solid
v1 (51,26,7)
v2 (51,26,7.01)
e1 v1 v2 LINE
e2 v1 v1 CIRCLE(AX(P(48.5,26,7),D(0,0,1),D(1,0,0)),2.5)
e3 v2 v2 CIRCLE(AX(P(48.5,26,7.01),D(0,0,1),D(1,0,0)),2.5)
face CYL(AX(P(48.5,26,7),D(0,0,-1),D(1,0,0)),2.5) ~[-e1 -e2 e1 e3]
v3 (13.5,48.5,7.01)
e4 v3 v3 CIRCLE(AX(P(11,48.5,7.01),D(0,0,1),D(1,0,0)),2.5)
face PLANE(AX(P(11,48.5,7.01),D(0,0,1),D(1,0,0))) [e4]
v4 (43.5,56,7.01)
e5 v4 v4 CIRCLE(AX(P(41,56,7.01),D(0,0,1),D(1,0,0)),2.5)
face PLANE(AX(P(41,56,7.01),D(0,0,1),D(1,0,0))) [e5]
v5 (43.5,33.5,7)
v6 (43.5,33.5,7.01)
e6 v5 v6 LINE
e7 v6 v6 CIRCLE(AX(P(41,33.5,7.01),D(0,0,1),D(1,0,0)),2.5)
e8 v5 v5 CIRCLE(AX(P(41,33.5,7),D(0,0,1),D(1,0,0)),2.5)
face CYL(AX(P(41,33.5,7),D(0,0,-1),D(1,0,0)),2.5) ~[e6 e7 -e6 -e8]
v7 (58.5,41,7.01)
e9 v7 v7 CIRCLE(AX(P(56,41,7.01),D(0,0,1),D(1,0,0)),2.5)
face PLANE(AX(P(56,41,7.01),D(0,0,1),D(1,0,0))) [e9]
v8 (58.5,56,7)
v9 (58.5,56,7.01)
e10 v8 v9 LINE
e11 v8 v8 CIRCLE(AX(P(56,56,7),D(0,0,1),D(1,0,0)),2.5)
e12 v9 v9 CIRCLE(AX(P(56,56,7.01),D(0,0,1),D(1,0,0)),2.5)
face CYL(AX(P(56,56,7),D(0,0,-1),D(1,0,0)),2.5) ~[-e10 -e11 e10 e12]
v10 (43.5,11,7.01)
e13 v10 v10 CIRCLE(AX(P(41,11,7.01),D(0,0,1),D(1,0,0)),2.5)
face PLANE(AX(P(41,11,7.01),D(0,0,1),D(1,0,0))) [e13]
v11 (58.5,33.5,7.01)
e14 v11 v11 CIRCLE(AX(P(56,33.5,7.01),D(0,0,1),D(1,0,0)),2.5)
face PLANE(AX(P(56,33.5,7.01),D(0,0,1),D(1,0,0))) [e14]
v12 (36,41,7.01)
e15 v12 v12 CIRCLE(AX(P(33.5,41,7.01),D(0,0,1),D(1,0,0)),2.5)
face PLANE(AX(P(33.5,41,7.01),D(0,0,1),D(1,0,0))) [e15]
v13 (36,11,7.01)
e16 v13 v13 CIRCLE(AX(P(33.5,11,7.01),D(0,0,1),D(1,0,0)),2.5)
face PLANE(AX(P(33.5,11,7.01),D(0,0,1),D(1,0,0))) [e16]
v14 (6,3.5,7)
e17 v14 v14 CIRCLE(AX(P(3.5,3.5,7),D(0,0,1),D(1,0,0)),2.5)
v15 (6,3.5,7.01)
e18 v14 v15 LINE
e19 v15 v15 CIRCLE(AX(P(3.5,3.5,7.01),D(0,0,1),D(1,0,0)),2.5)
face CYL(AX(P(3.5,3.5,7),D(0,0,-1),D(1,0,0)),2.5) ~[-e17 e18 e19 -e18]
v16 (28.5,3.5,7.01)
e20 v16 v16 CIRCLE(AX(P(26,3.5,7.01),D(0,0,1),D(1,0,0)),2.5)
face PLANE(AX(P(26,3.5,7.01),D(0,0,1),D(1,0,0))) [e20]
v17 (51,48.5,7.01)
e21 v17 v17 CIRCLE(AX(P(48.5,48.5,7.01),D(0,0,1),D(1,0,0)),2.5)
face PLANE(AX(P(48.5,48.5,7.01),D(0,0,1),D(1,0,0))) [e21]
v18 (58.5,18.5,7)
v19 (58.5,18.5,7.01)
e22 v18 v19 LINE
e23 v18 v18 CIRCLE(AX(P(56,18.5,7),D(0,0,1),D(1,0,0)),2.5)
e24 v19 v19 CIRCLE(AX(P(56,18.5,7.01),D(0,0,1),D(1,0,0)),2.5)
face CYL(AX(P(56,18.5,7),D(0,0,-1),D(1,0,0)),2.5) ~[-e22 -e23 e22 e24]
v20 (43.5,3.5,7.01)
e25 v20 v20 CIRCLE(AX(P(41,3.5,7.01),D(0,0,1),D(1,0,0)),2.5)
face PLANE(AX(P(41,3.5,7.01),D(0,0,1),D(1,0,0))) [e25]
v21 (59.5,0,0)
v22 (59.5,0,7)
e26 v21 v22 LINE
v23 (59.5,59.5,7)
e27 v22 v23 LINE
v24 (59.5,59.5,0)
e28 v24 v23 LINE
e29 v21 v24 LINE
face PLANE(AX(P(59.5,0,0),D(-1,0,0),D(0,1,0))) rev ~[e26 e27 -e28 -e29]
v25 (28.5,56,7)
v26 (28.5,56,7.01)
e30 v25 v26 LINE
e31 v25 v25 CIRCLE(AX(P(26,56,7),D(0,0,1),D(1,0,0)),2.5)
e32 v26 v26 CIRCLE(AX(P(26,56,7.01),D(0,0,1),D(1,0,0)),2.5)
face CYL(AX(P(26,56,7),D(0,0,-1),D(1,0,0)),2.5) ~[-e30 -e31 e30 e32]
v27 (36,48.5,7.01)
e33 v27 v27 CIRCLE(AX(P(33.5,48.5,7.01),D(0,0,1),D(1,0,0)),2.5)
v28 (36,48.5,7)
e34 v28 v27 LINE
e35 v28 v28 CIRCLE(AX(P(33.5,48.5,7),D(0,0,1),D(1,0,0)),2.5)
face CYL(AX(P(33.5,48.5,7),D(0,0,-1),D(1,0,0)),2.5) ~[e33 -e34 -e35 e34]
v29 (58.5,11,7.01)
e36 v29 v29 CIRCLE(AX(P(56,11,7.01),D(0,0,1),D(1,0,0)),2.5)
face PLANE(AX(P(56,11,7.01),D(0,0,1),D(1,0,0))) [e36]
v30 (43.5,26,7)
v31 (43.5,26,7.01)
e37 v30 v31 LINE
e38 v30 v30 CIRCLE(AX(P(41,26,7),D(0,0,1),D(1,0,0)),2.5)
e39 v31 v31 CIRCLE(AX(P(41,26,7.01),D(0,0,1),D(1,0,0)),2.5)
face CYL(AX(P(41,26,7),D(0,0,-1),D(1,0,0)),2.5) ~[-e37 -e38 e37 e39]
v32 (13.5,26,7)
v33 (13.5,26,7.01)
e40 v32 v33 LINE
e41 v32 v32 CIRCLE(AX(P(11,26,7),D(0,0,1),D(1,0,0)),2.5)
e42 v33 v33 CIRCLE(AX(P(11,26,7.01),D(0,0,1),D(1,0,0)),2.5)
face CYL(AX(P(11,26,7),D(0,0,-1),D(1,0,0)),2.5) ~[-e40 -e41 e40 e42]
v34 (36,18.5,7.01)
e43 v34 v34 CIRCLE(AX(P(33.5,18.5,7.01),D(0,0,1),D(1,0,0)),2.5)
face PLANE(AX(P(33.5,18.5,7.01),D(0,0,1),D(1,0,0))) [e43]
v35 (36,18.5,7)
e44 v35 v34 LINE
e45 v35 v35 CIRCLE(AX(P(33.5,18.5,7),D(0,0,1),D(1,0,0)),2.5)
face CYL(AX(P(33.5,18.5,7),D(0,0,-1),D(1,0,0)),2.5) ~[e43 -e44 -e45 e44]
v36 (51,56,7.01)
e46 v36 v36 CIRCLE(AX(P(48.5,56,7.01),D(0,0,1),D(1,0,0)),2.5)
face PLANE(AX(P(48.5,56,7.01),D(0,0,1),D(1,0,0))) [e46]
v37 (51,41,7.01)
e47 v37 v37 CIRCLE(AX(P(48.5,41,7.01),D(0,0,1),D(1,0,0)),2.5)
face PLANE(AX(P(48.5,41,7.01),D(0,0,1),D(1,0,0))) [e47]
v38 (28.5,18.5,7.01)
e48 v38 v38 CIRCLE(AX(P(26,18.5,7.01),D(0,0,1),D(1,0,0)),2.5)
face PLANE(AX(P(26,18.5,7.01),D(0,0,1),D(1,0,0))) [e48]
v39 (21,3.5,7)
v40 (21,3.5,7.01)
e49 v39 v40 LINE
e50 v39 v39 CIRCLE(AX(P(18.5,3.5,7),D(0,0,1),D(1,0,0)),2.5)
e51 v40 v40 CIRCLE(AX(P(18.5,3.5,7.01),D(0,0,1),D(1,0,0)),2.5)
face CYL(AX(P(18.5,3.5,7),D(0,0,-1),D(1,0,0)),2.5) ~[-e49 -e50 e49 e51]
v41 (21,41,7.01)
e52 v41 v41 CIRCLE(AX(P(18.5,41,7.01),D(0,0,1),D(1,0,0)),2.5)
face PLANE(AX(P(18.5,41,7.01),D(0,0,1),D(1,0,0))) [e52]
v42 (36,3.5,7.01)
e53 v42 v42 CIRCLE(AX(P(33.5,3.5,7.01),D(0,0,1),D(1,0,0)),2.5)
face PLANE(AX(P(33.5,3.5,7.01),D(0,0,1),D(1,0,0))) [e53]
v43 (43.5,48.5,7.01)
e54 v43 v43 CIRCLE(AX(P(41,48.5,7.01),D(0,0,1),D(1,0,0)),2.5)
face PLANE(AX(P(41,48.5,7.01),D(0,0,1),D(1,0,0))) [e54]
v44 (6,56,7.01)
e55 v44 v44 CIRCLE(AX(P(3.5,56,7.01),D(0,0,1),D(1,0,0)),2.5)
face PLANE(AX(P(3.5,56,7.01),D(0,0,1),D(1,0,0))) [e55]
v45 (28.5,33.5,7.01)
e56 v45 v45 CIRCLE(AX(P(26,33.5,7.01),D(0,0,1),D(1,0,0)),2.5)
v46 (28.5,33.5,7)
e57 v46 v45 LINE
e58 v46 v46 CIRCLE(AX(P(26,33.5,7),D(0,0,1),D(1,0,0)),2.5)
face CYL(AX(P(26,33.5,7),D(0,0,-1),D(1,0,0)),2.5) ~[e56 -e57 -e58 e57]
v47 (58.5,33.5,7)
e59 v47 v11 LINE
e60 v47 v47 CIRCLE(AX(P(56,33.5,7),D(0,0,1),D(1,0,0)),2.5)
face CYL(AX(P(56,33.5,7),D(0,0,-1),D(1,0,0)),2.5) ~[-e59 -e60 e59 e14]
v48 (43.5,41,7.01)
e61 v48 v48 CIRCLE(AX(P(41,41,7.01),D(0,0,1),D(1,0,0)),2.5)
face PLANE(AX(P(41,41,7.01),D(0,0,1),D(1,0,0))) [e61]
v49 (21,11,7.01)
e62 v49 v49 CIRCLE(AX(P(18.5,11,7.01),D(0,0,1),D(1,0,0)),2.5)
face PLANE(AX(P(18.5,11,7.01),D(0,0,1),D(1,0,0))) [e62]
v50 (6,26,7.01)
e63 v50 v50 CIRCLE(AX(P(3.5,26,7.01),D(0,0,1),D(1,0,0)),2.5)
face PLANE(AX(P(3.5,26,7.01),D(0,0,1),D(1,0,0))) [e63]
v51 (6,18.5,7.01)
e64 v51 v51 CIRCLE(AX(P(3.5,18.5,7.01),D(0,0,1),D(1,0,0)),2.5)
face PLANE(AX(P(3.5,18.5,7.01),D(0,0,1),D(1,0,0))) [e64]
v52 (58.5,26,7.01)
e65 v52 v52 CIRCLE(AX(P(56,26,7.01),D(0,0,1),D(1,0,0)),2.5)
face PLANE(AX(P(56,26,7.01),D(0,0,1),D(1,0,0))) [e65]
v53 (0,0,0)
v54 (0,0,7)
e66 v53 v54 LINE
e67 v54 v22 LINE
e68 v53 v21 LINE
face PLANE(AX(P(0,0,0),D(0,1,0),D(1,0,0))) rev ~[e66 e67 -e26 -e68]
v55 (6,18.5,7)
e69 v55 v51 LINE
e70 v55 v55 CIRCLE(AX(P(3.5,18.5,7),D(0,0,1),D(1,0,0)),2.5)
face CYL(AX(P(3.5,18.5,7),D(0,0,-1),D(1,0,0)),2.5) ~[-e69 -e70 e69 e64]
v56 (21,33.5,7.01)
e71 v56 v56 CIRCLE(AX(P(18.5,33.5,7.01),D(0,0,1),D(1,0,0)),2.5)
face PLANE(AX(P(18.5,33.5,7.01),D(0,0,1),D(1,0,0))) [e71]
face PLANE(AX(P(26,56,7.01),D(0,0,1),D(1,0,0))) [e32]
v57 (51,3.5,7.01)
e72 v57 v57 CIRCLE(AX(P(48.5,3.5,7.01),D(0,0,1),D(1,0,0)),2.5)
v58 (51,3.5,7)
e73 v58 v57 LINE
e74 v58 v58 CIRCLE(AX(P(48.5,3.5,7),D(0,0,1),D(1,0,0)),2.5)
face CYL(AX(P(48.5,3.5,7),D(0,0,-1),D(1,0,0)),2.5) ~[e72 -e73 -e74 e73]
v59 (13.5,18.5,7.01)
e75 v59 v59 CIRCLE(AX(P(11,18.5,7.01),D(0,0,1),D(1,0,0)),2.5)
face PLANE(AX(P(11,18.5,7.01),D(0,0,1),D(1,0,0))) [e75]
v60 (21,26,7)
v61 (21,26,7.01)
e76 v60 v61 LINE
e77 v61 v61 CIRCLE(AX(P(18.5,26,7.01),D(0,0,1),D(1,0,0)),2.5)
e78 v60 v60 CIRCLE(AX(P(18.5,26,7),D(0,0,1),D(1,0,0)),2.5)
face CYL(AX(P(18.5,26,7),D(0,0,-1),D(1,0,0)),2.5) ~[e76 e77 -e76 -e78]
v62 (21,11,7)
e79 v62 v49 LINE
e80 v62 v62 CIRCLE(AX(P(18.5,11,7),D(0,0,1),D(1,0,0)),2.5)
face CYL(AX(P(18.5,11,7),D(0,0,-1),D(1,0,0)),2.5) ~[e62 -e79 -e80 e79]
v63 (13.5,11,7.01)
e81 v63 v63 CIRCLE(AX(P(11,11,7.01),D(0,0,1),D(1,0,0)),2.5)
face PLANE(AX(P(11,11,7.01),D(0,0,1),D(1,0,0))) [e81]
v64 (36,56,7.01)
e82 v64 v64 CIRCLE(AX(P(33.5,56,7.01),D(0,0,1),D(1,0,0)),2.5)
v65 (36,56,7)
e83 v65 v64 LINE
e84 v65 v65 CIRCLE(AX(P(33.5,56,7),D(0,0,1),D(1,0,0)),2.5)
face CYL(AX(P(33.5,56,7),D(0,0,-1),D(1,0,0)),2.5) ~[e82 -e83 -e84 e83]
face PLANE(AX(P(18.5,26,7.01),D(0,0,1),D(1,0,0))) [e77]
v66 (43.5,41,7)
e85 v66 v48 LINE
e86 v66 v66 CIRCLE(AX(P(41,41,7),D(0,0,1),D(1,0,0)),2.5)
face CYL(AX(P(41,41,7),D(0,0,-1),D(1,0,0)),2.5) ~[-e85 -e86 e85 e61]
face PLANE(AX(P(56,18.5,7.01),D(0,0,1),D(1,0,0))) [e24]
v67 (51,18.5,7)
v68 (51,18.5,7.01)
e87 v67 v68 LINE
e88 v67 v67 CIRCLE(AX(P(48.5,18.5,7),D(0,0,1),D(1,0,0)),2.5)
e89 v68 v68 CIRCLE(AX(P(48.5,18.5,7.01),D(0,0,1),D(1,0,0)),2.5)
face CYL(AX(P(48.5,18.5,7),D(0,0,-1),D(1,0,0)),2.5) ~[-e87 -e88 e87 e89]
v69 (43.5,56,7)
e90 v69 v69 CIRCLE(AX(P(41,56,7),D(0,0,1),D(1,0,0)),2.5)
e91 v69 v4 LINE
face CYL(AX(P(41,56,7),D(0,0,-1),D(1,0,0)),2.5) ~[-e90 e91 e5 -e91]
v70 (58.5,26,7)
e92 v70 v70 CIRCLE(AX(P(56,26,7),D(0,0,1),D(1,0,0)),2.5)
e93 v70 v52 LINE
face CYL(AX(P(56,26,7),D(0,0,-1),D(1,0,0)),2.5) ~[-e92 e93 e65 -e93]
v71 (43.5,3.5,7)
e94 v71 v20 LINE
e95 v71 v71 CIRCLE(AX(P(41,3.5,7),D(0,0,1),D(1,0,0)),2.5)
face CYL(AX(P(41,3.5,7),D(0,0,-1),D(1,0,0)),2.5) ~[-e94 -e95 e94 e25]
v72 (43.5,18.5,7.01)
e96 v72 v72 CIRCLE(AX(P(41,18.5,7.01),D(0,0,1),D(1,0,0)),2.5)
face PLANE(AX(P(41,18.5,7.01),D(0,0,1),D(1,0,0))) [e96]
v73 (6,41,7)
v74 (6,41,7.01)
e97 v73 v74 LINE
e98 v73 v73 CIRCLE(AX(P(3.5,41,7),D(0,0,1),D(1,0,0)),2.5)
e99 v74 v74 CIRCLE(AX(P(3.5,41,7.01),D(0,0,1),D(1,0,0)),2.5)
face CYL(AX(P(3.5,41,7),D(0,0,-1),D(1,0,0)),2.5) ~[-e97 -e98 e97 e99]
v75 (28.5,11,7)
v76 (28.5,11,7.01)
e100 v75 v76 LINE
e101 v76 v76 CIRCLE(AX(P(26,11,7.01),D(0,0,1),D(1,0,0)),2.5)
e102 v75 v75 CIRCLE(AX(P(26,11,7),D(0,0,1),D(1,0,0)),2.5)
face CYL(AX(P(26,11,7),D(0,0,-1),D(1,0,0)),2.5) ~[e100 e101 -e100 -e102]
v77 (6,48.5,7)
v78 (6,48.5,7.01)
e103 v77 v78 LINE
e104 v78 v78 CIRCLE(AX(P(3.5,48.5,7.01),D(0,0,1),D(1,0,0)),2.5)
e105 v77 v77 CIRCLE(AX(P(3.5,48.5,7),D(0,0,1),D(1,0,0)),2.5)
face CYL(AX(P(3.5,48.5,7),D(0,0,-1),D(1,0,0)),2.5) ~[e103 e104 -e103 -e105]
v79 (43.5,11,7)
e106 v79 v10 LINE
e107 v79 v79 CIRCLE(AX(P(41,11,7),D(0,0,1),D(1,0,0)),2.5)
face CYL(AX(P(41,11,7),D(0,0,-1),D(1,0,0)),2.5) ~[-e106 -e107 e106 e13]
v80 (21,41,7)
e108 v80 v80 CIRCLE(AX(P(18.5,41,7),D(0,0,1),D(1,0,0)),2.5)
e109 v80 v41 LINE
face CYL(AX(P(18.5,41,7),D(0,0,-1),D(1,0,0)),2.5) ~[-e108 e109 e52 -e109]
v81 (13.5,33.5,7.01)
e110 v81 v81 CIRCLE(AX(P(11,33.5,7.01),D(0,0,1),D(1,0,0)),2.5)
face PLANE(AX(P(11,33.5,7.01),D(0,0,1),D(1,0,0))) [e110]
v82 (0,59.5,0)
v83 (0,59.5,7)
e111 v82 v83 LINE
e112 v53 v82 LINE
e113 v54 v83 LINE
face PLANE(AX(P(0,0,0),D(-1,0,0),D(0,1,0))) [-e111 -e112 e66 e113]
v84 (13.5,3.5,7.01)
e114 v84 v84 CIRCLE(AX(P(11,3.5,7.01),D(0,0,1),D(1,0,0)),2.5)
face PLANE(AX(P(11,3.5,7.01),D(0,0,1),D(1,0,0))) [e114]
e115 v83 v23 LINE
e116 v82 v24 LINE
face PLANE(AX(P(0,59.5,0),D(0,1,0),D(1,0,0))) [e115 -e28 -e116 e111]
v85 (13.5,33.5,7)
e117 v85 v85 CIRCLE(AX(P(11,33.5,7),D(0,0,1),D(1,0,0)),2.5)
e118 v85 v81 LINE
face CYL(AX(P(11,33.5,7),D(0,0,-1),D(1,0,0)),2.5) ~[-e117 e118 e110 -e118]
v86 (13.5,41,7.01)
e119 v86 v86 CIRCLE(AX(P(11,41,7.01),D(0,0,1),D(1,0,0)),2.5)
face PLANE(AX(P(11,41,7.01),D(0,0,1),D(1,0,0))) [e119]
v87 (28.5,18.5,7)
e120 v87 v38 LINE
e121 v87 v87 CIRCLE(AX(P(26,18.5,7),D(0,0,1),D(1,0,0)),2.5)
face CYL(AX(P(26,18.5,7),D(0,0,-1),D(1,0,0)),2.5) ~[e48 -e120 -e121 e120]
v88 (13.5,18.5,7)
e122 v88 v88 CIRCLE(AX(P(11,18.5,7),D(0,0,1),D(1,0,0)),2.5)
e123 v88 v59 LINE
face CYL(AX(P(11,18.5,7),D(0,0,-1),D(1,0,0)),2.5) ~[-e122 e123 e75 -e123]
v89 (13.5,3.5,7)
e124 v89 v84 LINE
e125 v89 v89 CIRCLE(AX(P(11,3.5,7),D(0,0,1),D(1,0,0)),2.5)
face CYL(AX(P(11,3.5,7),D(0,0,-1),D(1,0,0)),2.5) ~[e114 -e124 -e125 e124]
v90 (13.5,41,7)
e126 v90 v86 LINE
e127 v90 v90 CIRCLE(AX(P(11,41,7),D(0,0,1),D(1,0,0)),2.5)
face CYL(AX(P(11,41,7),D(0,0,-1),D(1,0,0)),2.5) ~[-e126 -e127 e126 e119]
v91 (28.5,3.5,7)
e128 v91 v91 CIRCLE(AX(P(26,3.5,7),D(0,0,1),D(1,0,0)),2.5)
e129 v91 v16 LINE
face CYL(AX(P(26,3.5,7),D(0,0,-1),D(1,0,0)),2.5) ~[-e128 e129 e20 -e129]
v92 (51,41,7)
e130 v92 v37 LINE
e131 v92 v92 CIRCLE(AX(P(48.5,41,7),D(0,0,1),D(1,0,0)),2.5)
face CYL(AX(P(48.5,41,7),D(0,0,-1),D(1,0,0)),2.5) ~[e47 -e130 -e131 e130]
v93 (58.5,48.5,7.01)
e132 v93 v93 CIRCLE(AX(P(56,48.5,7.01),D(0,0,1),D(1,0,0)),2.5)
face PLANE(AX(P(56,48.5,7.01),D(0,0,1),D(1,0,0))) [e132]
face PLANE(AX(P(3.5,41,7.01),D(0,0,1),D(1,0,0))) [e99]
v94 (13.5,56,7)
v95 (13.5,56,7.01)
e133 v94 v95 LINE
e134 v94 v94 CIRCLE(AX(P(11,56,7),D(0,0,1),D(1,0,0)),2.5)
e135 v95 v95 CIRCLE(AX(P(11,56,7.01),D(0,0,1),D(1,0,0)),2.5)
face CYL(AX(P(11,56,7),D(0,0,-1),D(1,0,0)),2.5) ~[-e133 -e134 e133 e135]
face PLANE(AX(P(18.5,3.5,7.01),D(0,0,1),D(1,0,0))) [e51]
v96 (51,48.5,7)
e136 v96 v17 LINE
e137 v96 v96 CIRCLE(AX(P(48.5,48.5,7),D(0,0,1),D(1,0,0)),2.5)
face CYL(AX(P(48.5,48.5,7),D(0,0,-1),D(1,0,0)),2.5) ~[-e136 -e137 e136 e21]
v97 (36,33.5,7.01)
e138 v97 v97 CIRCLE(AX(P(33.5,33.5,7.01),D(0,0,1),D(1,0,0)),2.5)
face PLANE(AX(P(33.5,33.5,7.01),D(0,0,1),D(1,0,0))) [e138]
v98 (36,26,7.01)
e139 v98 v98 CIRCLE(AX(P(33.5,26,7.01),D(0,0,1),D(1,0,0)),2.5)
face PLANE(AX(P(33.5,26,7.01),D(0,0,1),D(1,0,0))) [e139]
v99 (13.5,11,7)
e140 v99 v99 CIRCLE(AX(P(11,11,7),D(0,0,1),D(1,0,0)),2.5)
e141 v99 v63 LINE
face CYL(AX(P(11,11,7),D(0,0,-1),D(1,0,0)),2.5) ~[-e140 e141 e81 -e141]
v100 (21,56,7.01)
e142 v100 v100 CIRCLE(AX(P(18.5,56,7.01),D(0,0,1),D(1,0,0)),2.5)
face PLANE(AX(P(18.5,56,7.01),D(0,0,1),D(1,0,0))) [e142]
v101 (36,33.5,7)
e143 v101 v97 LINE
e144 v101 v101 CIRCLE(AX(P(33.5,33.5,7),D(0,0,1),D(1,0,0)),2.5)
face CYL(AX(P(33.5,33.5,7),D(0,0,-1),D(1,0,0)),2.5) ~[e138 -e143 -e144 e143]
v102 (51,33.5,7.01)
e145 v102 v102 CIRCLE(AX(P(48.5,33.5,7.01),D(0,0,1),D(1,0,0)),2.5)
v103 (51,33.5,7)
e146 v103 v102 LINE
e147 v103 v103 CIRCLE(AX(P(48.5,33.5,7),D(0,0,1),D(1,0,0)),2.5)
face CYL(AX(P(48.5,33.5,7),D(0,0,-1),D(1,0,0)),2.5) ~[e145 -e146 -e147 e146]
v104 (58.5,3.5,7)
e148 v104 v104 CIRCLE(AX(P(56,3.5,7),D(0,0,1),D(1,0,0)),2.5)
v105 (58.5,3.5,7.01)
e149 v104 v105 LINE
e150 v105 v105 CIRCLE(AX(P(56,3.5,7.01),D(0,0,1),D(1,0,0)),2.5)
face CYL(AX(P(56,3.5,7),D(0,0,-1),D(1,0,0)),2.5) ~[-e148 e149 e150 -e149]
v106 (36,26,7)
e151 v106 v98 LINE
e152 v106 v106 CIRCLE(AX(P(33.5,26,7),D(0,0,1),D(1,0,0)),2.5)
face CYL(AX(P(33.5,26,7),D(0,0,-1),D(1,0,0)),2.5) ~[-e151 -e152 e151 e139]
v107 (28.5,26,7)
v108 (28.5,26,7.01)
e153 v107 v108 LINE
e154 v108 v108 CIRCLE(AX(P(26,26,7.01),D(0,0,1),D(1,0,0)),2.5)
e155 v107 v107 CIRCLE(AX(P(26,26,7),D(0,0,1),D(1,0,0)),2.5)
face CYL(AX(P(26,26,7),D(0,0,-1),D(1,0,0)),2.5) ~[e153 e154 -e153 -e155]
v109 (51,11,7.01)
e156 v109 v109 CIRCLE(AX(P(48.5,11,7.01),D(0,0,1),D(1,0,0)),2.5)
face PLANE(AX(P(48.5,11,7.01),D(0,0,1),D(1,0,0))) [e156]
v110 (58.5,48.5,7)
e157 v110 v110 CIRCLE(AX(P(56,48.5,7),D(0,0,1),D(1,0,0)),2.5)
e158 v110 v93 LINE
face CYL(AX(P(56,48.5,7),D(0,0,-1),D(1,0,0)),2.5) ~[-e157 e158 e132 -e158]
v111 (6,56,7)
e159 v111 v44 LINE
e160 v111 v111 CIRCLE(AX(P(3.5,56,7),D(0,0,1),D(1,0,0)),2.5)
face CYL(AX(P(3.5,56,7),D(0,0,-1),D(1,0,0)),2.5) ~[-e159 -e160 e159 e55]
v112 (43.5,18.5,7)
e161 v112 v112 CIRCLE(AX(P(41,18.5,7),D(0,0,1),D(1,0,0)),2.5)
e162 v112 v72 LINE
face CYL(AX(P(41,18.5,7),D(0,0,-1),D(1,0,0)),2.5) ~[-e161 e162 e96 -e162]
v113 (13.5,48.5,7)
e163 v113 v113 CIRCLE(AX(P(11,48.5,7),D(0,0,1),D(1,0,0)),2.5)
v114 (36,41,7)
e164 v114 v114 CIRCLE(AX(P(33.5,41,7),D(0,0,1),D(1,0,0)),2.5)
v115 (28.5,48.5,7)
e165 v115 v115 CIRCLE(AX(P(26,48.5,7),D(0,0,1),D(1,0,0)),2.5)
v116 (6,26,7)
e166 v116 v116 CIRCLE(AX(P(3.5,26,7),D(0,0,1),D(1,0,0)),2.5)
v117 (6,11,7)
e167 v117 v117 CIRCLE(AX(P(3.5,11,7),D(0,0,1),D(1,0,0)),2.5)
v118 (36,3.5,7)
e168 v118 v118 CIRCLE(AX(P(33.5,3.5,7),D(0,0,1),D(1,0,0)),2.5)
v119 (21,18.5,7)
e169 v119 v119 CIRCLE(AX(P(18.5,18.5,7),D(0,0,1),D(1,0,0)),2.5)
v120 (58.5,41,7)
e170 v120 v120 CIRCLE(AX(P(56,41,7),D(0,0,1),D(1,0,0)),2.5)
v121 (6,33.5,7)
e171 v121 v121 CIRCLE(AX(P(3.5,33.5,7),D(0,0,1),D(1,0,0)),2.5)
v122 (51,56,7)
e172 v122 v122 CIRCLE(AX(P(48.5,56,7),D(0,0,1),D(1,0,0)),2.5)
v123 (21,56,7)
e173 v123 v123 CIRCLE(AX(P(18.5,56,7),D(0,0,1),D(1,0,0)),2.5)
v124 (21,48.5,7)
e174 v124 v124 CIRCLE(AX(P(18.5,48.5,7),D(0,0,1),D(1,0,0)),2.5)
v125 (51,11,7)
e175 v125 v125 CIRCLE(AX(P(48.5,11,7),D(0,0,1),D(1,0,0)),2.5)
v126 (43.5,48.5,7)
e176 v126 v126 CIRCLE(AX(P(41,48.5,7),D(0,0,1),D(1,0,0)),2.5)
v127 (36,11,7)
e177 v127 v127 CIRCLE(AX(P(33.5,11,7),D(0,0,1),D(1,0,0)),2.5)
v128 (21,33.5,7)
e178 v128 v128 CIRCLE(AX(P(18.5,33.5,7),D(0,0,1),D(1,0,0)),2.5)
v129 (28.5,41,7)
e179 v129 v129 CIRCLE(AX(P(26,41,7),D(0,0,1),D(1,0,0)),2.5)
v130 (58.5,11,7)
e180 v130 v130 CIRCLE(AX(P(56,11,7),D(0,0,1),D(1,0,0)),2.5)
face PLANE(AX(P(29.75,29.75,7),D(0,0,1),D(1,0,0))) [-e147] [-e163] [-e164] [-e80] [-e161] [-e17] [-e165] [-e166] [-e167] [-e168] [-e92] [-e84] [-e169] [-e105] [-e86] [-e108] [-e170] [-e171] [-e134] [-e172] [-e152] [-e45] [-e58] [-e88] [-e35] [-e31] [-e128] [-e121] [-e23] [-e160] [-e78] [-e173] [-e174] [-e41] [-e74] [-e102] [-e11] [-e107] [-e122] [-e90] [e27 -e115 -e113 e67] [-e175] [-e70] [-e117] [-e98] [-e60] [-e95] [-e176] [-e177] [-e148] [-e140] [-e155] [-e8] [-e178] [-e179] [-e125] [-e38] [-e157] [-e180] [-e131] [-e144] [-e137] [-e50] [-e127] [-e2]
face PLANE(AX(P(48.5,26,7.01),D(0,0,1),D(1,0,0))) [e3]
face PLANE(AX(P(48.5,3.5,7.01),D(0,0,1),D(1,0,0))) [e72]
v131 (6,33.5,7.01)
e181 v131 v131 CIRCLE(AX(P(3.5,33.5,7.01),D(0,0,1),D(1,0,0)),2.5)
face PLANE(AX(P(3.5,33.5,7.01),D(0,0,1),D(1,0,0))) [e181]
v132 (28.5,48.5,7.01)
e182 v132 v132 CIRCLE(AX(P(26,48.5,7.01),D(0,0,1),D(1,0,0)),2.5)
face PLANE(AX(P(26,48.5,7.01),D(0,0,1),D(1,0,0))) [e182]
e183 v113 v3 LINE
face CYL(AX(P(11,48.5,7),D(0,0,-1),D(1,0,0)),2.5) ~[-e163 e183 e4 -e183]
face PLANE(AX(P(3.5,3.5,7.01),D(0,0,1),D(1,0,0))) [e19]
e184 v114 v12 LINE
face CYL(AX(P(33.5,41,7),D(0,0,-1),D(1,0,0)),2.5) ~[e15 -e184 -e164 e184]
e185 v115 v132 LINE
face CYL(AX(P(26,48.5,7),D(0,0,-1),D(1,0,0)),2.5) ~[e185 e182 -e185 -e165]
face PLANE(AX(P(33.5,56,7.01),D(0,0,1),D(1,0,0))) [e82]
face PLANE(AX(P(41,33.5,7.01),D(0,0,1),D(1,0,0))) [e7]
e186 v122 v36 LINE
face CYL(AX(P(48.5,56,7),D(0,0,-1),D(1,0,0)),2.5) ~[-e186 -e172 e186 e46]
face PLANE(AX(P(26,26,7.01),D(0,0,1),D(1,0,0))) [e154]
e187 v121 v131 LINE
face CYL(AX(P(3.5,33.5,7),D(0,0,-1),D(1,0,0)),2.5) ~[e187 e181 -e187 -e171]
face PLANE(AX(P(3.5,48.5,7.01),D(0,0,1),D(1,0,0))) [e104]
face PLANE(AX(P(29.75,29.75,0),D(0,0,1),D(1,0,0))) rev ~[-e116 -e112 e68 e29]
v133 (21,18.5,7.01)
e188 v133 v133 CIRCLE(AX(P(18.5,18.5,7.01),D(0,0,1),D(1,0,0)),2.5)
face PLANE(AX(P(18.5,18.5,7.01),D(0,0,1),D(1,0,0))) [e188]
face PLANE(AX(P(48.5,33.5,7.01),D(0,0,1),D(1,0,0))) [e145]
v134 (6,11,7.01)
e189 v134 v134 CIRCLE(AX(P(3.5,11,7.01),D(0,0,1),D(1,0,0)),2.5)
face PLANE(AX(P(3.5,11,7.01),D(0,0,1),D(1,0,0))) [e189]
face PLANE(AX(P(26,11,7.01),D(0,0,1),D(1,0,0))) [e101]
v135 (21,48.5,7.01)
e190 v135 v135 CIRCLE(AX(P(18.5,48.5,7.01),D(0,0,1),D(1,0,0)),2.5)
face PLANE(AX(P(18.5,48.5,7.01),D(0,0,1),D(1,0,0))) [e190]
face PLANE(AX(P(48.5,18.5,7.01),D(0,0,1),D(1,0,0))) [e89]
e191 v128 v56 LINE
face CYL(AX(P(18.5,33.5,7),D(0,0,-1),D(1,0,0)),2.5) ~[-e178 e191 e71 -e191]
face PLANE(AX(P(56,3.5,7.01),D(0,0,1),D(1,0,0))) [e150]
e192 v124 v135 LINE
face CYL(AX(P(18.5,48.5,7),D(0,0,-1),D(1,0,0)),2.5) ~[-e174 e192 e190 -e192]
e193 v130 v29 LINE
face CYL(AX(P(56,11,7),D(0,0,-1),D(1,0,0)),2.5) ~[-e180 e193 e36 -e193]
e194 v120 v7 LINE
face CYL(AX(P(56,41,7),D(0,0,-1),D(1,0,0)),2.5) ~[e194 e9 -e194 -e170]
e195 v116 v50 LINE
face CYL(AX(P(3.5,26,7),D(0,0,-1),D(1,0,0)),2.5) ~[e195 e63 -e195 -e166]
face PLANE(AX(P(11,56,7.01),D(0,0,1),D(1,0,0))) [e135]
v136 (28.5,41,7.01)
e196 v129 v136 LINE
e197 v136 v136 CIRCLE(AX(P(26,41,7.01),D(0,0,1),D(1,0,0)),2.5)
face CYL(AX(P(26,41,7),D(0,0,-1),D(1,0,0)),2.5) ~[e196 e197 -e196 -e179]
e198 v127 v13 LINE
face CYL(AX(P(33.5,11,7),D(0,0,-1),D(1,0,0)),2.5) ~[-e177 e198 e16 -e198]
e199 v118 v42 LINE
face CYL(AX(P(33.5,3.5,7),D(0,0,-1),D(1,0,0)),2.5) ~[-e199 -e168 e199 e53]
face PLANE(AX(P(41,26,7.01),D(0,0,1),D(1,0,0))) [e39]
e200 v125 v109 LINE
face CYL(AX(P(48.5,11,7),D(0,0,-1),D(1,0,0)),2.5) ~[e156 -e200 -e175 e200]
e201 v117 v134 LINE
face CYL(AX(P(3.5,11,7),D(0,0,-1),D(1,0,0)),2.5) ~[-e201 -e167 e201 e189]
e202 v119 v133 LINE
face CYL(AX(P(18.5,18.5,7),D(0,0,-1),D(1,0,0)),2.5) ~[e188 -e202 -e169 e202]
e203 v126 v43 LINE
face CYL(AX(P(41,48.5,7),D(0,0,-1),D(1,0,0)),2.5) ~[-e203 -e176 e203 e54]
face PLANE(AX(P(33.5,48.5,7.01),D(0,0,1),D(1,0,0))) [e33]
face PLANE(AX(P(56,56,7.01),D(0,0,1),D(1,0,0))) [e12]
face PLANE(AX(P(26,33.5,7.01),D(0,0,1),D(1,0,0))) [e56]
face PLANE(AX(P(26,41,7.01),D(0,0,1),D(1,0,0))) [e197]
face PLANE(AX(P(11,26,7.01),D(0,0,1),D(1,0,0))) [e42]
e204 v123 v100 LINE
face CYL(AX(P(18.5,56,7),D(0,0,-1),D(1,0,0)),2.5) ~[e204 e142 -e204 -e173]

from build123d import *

# Parameters (mm, degrees)
SKETCH_W     = 59.5
SKETCH_H     = 59.5
PAD_DEPTH    = 7
SKETCH001_R  = 2.5
PAD001_DEPTH = 0.01


with BuildPart() as part:
    # Sketch → Pad (new body)
    with BuildSketch(Plane.XY):
        with Locations((29.75, 29.75)):
            Rectangle(SKETCH_W, SKETCH_H)
    extrude(amount=PAD_DEPTH)

    # Sketch001 (on Face6 of Pad) → Pad001 (join)
    with BuildSketch(Plane.XY.offset(7)):
        with Locations((3.5, 3.5)):
            Circle(SKETCH001_R)
        with Locations((11, 3.5)):
            Circle(SKETCH001_R)
        with Locations((18.5, 3.5)):
            Circle(SKETCH001_R)
        with Locations((26, 3.5)):
            Circle(SKETCH001_R)
        with Locations((33.5, 3.5)):
            Circle(SKETCH001_R)
        with Locations((41, 3.5)):
            Circle(SKETCH001_R)
        with Locations((48.5, 3.5)):
            Circle(SKETCH001_R)
        with Locations((56, 3.5)):
            Circle(SKETCH001_R)
        with Locations((3.5, 11)):
            Circle(SKETCH001_R)
        with Locations((11, 11)):
            Circle(SKETCH001_R)
        with Locations((18.5, 11)):
            Circle(SKETCH001_R)
        with Locations((26, 11)):
            Circle(SKETCH001_R)
        with Locations((33.5, 11)):
            Circle(SKETCH001_R)
        with Locations((41, 11)):
            Circle(SKETCH001_R)
        with Locations((48.5, 11)):
            Circle(SKETCH001_R)
        with Locations((56, 11)):
            Circle(SKETCH001_R)
        with Locations((3.5, 18.5)):
            Circle(SKETCH001_R)
        with Locations((11, 18.5)):
            Circle(SKETCH001_R)
        with Locations((18.5, 18.5)):
            Circle(SKETCH001_R)
        with Locations((26, 18.5)):
            Circle(SKETCH001_R)
        with Locations((33.5, 18.5)):
            Circle(SKETCH001_R)
        with Locations((41, 18.5)):
            Circle(SKETCH001_R)
        with Locations((48.5, 18.5)):
            Circle(SKETCH001_R)
        with Locations((56, 18.5)):
            Circle(SKETCH001_R)
        with Locations((3.5, 26)):
            Circle(SKETCH001_R)
        with Locations((11, 26)):
            Circle(SKETCH001_R)
        with Locations((18.5, 26)):
            Circle(SKETCH001_R)
        with Locations((26, 26)):
            Circle(SKETCH001_R)
        with Locations((33.5, 26)):
            Circle(SKETCH001_R)
        with Locations((41, 26)):
            Circle(SKETCH001_R)
        with Locations((48.5, 26)):
            Circle(SKETCH001_R)
        with Locations((56, 26)):
            Circle(SKETCH001_R)
        with Locations((3.5, 33.5)):
            Circle(SKETCH001_R)
        with Locations((11, 33.5)):
            Circle(SKETCH001_R)
        with Locations((18.5, 33.5)):
            Circle(SKETCH001_R)
        with Locations((26, 33.5)):
            Circle(SKETCH001_R)
        with Locations((33.5, 33.5)):
            Circle(SKETCH001_R)
        with Locations((41, 33.5)):
            Circle(SKETCH001_R)
        with Locations((48.5, 33.5)):
            Circle(SKETCH001_R)
        with Locations((56, 33.5)):
            Circle(SKETCH001_R)
        with Locations((3.5, 41)):
            Circle(SKETCH001_R)
        with Locations((11, 41)):
            Circle(SKETCH001_R)
        with Locations((18.5, 41)):
            Circle(SKETCH001_R)
        with Locations((26, 41)):
            Circle(SKETCH001_R)
        with Locations((33.5, 41)):
            Circle(SKETCH001_R)
        with Locations((41, 41)):
            Circle(SKETCH001_R)
        with Locations((48.5, 41)):
            Circle(SKETCH001_R)
        with Locations((56, 41)):
            Circle(SKETCH001_R)
        with Locations((3.5, 48.5)):
            Circle(SKETCH001_R)
        with Locations((11, 48.5)):
            Circle(SKETCH001_R)
        with Locations((18.5, 48.5)):
            Circle(SKETCH001_R)
        with Locations((26, 48.5)):
            Circle(SKETCH001_R)
        with Locations((33.5, 48.5)):
            Circle(SKETCH001_R)
        with Locations((41, 48.5)):
            Circle(SKETCH001_R)
        with Locations((48.5, 48.5)):
            Circle(SKETCH001_R)
        with Locations((56, 48.5)):
            Circle(SKETCH001_R)
        with Locations((3.5, 56)):
            Circle(SKETCH001_R)
        with Locations((11, 56)):
            Circle(SKETCH001_R)
        with Locations((18.5, 56)):
            Circle(SKETCH001_R)
        with Locations((26, 56)):
            Circle(SKETCH001_R)
        with Locations((33.5, 56)):
            Circle(SKETCH001_R)
        with Locations((41, 56)):
            Circle(SKETCH001_R)
        with Locations((48.5, 56)):
            Circle(SKETCH001_R)
        with Locations((56, 56)):
            Circle(SKETCH001_R)
    extrude(amount=PAD001_DEPTH)


solid = part.part
